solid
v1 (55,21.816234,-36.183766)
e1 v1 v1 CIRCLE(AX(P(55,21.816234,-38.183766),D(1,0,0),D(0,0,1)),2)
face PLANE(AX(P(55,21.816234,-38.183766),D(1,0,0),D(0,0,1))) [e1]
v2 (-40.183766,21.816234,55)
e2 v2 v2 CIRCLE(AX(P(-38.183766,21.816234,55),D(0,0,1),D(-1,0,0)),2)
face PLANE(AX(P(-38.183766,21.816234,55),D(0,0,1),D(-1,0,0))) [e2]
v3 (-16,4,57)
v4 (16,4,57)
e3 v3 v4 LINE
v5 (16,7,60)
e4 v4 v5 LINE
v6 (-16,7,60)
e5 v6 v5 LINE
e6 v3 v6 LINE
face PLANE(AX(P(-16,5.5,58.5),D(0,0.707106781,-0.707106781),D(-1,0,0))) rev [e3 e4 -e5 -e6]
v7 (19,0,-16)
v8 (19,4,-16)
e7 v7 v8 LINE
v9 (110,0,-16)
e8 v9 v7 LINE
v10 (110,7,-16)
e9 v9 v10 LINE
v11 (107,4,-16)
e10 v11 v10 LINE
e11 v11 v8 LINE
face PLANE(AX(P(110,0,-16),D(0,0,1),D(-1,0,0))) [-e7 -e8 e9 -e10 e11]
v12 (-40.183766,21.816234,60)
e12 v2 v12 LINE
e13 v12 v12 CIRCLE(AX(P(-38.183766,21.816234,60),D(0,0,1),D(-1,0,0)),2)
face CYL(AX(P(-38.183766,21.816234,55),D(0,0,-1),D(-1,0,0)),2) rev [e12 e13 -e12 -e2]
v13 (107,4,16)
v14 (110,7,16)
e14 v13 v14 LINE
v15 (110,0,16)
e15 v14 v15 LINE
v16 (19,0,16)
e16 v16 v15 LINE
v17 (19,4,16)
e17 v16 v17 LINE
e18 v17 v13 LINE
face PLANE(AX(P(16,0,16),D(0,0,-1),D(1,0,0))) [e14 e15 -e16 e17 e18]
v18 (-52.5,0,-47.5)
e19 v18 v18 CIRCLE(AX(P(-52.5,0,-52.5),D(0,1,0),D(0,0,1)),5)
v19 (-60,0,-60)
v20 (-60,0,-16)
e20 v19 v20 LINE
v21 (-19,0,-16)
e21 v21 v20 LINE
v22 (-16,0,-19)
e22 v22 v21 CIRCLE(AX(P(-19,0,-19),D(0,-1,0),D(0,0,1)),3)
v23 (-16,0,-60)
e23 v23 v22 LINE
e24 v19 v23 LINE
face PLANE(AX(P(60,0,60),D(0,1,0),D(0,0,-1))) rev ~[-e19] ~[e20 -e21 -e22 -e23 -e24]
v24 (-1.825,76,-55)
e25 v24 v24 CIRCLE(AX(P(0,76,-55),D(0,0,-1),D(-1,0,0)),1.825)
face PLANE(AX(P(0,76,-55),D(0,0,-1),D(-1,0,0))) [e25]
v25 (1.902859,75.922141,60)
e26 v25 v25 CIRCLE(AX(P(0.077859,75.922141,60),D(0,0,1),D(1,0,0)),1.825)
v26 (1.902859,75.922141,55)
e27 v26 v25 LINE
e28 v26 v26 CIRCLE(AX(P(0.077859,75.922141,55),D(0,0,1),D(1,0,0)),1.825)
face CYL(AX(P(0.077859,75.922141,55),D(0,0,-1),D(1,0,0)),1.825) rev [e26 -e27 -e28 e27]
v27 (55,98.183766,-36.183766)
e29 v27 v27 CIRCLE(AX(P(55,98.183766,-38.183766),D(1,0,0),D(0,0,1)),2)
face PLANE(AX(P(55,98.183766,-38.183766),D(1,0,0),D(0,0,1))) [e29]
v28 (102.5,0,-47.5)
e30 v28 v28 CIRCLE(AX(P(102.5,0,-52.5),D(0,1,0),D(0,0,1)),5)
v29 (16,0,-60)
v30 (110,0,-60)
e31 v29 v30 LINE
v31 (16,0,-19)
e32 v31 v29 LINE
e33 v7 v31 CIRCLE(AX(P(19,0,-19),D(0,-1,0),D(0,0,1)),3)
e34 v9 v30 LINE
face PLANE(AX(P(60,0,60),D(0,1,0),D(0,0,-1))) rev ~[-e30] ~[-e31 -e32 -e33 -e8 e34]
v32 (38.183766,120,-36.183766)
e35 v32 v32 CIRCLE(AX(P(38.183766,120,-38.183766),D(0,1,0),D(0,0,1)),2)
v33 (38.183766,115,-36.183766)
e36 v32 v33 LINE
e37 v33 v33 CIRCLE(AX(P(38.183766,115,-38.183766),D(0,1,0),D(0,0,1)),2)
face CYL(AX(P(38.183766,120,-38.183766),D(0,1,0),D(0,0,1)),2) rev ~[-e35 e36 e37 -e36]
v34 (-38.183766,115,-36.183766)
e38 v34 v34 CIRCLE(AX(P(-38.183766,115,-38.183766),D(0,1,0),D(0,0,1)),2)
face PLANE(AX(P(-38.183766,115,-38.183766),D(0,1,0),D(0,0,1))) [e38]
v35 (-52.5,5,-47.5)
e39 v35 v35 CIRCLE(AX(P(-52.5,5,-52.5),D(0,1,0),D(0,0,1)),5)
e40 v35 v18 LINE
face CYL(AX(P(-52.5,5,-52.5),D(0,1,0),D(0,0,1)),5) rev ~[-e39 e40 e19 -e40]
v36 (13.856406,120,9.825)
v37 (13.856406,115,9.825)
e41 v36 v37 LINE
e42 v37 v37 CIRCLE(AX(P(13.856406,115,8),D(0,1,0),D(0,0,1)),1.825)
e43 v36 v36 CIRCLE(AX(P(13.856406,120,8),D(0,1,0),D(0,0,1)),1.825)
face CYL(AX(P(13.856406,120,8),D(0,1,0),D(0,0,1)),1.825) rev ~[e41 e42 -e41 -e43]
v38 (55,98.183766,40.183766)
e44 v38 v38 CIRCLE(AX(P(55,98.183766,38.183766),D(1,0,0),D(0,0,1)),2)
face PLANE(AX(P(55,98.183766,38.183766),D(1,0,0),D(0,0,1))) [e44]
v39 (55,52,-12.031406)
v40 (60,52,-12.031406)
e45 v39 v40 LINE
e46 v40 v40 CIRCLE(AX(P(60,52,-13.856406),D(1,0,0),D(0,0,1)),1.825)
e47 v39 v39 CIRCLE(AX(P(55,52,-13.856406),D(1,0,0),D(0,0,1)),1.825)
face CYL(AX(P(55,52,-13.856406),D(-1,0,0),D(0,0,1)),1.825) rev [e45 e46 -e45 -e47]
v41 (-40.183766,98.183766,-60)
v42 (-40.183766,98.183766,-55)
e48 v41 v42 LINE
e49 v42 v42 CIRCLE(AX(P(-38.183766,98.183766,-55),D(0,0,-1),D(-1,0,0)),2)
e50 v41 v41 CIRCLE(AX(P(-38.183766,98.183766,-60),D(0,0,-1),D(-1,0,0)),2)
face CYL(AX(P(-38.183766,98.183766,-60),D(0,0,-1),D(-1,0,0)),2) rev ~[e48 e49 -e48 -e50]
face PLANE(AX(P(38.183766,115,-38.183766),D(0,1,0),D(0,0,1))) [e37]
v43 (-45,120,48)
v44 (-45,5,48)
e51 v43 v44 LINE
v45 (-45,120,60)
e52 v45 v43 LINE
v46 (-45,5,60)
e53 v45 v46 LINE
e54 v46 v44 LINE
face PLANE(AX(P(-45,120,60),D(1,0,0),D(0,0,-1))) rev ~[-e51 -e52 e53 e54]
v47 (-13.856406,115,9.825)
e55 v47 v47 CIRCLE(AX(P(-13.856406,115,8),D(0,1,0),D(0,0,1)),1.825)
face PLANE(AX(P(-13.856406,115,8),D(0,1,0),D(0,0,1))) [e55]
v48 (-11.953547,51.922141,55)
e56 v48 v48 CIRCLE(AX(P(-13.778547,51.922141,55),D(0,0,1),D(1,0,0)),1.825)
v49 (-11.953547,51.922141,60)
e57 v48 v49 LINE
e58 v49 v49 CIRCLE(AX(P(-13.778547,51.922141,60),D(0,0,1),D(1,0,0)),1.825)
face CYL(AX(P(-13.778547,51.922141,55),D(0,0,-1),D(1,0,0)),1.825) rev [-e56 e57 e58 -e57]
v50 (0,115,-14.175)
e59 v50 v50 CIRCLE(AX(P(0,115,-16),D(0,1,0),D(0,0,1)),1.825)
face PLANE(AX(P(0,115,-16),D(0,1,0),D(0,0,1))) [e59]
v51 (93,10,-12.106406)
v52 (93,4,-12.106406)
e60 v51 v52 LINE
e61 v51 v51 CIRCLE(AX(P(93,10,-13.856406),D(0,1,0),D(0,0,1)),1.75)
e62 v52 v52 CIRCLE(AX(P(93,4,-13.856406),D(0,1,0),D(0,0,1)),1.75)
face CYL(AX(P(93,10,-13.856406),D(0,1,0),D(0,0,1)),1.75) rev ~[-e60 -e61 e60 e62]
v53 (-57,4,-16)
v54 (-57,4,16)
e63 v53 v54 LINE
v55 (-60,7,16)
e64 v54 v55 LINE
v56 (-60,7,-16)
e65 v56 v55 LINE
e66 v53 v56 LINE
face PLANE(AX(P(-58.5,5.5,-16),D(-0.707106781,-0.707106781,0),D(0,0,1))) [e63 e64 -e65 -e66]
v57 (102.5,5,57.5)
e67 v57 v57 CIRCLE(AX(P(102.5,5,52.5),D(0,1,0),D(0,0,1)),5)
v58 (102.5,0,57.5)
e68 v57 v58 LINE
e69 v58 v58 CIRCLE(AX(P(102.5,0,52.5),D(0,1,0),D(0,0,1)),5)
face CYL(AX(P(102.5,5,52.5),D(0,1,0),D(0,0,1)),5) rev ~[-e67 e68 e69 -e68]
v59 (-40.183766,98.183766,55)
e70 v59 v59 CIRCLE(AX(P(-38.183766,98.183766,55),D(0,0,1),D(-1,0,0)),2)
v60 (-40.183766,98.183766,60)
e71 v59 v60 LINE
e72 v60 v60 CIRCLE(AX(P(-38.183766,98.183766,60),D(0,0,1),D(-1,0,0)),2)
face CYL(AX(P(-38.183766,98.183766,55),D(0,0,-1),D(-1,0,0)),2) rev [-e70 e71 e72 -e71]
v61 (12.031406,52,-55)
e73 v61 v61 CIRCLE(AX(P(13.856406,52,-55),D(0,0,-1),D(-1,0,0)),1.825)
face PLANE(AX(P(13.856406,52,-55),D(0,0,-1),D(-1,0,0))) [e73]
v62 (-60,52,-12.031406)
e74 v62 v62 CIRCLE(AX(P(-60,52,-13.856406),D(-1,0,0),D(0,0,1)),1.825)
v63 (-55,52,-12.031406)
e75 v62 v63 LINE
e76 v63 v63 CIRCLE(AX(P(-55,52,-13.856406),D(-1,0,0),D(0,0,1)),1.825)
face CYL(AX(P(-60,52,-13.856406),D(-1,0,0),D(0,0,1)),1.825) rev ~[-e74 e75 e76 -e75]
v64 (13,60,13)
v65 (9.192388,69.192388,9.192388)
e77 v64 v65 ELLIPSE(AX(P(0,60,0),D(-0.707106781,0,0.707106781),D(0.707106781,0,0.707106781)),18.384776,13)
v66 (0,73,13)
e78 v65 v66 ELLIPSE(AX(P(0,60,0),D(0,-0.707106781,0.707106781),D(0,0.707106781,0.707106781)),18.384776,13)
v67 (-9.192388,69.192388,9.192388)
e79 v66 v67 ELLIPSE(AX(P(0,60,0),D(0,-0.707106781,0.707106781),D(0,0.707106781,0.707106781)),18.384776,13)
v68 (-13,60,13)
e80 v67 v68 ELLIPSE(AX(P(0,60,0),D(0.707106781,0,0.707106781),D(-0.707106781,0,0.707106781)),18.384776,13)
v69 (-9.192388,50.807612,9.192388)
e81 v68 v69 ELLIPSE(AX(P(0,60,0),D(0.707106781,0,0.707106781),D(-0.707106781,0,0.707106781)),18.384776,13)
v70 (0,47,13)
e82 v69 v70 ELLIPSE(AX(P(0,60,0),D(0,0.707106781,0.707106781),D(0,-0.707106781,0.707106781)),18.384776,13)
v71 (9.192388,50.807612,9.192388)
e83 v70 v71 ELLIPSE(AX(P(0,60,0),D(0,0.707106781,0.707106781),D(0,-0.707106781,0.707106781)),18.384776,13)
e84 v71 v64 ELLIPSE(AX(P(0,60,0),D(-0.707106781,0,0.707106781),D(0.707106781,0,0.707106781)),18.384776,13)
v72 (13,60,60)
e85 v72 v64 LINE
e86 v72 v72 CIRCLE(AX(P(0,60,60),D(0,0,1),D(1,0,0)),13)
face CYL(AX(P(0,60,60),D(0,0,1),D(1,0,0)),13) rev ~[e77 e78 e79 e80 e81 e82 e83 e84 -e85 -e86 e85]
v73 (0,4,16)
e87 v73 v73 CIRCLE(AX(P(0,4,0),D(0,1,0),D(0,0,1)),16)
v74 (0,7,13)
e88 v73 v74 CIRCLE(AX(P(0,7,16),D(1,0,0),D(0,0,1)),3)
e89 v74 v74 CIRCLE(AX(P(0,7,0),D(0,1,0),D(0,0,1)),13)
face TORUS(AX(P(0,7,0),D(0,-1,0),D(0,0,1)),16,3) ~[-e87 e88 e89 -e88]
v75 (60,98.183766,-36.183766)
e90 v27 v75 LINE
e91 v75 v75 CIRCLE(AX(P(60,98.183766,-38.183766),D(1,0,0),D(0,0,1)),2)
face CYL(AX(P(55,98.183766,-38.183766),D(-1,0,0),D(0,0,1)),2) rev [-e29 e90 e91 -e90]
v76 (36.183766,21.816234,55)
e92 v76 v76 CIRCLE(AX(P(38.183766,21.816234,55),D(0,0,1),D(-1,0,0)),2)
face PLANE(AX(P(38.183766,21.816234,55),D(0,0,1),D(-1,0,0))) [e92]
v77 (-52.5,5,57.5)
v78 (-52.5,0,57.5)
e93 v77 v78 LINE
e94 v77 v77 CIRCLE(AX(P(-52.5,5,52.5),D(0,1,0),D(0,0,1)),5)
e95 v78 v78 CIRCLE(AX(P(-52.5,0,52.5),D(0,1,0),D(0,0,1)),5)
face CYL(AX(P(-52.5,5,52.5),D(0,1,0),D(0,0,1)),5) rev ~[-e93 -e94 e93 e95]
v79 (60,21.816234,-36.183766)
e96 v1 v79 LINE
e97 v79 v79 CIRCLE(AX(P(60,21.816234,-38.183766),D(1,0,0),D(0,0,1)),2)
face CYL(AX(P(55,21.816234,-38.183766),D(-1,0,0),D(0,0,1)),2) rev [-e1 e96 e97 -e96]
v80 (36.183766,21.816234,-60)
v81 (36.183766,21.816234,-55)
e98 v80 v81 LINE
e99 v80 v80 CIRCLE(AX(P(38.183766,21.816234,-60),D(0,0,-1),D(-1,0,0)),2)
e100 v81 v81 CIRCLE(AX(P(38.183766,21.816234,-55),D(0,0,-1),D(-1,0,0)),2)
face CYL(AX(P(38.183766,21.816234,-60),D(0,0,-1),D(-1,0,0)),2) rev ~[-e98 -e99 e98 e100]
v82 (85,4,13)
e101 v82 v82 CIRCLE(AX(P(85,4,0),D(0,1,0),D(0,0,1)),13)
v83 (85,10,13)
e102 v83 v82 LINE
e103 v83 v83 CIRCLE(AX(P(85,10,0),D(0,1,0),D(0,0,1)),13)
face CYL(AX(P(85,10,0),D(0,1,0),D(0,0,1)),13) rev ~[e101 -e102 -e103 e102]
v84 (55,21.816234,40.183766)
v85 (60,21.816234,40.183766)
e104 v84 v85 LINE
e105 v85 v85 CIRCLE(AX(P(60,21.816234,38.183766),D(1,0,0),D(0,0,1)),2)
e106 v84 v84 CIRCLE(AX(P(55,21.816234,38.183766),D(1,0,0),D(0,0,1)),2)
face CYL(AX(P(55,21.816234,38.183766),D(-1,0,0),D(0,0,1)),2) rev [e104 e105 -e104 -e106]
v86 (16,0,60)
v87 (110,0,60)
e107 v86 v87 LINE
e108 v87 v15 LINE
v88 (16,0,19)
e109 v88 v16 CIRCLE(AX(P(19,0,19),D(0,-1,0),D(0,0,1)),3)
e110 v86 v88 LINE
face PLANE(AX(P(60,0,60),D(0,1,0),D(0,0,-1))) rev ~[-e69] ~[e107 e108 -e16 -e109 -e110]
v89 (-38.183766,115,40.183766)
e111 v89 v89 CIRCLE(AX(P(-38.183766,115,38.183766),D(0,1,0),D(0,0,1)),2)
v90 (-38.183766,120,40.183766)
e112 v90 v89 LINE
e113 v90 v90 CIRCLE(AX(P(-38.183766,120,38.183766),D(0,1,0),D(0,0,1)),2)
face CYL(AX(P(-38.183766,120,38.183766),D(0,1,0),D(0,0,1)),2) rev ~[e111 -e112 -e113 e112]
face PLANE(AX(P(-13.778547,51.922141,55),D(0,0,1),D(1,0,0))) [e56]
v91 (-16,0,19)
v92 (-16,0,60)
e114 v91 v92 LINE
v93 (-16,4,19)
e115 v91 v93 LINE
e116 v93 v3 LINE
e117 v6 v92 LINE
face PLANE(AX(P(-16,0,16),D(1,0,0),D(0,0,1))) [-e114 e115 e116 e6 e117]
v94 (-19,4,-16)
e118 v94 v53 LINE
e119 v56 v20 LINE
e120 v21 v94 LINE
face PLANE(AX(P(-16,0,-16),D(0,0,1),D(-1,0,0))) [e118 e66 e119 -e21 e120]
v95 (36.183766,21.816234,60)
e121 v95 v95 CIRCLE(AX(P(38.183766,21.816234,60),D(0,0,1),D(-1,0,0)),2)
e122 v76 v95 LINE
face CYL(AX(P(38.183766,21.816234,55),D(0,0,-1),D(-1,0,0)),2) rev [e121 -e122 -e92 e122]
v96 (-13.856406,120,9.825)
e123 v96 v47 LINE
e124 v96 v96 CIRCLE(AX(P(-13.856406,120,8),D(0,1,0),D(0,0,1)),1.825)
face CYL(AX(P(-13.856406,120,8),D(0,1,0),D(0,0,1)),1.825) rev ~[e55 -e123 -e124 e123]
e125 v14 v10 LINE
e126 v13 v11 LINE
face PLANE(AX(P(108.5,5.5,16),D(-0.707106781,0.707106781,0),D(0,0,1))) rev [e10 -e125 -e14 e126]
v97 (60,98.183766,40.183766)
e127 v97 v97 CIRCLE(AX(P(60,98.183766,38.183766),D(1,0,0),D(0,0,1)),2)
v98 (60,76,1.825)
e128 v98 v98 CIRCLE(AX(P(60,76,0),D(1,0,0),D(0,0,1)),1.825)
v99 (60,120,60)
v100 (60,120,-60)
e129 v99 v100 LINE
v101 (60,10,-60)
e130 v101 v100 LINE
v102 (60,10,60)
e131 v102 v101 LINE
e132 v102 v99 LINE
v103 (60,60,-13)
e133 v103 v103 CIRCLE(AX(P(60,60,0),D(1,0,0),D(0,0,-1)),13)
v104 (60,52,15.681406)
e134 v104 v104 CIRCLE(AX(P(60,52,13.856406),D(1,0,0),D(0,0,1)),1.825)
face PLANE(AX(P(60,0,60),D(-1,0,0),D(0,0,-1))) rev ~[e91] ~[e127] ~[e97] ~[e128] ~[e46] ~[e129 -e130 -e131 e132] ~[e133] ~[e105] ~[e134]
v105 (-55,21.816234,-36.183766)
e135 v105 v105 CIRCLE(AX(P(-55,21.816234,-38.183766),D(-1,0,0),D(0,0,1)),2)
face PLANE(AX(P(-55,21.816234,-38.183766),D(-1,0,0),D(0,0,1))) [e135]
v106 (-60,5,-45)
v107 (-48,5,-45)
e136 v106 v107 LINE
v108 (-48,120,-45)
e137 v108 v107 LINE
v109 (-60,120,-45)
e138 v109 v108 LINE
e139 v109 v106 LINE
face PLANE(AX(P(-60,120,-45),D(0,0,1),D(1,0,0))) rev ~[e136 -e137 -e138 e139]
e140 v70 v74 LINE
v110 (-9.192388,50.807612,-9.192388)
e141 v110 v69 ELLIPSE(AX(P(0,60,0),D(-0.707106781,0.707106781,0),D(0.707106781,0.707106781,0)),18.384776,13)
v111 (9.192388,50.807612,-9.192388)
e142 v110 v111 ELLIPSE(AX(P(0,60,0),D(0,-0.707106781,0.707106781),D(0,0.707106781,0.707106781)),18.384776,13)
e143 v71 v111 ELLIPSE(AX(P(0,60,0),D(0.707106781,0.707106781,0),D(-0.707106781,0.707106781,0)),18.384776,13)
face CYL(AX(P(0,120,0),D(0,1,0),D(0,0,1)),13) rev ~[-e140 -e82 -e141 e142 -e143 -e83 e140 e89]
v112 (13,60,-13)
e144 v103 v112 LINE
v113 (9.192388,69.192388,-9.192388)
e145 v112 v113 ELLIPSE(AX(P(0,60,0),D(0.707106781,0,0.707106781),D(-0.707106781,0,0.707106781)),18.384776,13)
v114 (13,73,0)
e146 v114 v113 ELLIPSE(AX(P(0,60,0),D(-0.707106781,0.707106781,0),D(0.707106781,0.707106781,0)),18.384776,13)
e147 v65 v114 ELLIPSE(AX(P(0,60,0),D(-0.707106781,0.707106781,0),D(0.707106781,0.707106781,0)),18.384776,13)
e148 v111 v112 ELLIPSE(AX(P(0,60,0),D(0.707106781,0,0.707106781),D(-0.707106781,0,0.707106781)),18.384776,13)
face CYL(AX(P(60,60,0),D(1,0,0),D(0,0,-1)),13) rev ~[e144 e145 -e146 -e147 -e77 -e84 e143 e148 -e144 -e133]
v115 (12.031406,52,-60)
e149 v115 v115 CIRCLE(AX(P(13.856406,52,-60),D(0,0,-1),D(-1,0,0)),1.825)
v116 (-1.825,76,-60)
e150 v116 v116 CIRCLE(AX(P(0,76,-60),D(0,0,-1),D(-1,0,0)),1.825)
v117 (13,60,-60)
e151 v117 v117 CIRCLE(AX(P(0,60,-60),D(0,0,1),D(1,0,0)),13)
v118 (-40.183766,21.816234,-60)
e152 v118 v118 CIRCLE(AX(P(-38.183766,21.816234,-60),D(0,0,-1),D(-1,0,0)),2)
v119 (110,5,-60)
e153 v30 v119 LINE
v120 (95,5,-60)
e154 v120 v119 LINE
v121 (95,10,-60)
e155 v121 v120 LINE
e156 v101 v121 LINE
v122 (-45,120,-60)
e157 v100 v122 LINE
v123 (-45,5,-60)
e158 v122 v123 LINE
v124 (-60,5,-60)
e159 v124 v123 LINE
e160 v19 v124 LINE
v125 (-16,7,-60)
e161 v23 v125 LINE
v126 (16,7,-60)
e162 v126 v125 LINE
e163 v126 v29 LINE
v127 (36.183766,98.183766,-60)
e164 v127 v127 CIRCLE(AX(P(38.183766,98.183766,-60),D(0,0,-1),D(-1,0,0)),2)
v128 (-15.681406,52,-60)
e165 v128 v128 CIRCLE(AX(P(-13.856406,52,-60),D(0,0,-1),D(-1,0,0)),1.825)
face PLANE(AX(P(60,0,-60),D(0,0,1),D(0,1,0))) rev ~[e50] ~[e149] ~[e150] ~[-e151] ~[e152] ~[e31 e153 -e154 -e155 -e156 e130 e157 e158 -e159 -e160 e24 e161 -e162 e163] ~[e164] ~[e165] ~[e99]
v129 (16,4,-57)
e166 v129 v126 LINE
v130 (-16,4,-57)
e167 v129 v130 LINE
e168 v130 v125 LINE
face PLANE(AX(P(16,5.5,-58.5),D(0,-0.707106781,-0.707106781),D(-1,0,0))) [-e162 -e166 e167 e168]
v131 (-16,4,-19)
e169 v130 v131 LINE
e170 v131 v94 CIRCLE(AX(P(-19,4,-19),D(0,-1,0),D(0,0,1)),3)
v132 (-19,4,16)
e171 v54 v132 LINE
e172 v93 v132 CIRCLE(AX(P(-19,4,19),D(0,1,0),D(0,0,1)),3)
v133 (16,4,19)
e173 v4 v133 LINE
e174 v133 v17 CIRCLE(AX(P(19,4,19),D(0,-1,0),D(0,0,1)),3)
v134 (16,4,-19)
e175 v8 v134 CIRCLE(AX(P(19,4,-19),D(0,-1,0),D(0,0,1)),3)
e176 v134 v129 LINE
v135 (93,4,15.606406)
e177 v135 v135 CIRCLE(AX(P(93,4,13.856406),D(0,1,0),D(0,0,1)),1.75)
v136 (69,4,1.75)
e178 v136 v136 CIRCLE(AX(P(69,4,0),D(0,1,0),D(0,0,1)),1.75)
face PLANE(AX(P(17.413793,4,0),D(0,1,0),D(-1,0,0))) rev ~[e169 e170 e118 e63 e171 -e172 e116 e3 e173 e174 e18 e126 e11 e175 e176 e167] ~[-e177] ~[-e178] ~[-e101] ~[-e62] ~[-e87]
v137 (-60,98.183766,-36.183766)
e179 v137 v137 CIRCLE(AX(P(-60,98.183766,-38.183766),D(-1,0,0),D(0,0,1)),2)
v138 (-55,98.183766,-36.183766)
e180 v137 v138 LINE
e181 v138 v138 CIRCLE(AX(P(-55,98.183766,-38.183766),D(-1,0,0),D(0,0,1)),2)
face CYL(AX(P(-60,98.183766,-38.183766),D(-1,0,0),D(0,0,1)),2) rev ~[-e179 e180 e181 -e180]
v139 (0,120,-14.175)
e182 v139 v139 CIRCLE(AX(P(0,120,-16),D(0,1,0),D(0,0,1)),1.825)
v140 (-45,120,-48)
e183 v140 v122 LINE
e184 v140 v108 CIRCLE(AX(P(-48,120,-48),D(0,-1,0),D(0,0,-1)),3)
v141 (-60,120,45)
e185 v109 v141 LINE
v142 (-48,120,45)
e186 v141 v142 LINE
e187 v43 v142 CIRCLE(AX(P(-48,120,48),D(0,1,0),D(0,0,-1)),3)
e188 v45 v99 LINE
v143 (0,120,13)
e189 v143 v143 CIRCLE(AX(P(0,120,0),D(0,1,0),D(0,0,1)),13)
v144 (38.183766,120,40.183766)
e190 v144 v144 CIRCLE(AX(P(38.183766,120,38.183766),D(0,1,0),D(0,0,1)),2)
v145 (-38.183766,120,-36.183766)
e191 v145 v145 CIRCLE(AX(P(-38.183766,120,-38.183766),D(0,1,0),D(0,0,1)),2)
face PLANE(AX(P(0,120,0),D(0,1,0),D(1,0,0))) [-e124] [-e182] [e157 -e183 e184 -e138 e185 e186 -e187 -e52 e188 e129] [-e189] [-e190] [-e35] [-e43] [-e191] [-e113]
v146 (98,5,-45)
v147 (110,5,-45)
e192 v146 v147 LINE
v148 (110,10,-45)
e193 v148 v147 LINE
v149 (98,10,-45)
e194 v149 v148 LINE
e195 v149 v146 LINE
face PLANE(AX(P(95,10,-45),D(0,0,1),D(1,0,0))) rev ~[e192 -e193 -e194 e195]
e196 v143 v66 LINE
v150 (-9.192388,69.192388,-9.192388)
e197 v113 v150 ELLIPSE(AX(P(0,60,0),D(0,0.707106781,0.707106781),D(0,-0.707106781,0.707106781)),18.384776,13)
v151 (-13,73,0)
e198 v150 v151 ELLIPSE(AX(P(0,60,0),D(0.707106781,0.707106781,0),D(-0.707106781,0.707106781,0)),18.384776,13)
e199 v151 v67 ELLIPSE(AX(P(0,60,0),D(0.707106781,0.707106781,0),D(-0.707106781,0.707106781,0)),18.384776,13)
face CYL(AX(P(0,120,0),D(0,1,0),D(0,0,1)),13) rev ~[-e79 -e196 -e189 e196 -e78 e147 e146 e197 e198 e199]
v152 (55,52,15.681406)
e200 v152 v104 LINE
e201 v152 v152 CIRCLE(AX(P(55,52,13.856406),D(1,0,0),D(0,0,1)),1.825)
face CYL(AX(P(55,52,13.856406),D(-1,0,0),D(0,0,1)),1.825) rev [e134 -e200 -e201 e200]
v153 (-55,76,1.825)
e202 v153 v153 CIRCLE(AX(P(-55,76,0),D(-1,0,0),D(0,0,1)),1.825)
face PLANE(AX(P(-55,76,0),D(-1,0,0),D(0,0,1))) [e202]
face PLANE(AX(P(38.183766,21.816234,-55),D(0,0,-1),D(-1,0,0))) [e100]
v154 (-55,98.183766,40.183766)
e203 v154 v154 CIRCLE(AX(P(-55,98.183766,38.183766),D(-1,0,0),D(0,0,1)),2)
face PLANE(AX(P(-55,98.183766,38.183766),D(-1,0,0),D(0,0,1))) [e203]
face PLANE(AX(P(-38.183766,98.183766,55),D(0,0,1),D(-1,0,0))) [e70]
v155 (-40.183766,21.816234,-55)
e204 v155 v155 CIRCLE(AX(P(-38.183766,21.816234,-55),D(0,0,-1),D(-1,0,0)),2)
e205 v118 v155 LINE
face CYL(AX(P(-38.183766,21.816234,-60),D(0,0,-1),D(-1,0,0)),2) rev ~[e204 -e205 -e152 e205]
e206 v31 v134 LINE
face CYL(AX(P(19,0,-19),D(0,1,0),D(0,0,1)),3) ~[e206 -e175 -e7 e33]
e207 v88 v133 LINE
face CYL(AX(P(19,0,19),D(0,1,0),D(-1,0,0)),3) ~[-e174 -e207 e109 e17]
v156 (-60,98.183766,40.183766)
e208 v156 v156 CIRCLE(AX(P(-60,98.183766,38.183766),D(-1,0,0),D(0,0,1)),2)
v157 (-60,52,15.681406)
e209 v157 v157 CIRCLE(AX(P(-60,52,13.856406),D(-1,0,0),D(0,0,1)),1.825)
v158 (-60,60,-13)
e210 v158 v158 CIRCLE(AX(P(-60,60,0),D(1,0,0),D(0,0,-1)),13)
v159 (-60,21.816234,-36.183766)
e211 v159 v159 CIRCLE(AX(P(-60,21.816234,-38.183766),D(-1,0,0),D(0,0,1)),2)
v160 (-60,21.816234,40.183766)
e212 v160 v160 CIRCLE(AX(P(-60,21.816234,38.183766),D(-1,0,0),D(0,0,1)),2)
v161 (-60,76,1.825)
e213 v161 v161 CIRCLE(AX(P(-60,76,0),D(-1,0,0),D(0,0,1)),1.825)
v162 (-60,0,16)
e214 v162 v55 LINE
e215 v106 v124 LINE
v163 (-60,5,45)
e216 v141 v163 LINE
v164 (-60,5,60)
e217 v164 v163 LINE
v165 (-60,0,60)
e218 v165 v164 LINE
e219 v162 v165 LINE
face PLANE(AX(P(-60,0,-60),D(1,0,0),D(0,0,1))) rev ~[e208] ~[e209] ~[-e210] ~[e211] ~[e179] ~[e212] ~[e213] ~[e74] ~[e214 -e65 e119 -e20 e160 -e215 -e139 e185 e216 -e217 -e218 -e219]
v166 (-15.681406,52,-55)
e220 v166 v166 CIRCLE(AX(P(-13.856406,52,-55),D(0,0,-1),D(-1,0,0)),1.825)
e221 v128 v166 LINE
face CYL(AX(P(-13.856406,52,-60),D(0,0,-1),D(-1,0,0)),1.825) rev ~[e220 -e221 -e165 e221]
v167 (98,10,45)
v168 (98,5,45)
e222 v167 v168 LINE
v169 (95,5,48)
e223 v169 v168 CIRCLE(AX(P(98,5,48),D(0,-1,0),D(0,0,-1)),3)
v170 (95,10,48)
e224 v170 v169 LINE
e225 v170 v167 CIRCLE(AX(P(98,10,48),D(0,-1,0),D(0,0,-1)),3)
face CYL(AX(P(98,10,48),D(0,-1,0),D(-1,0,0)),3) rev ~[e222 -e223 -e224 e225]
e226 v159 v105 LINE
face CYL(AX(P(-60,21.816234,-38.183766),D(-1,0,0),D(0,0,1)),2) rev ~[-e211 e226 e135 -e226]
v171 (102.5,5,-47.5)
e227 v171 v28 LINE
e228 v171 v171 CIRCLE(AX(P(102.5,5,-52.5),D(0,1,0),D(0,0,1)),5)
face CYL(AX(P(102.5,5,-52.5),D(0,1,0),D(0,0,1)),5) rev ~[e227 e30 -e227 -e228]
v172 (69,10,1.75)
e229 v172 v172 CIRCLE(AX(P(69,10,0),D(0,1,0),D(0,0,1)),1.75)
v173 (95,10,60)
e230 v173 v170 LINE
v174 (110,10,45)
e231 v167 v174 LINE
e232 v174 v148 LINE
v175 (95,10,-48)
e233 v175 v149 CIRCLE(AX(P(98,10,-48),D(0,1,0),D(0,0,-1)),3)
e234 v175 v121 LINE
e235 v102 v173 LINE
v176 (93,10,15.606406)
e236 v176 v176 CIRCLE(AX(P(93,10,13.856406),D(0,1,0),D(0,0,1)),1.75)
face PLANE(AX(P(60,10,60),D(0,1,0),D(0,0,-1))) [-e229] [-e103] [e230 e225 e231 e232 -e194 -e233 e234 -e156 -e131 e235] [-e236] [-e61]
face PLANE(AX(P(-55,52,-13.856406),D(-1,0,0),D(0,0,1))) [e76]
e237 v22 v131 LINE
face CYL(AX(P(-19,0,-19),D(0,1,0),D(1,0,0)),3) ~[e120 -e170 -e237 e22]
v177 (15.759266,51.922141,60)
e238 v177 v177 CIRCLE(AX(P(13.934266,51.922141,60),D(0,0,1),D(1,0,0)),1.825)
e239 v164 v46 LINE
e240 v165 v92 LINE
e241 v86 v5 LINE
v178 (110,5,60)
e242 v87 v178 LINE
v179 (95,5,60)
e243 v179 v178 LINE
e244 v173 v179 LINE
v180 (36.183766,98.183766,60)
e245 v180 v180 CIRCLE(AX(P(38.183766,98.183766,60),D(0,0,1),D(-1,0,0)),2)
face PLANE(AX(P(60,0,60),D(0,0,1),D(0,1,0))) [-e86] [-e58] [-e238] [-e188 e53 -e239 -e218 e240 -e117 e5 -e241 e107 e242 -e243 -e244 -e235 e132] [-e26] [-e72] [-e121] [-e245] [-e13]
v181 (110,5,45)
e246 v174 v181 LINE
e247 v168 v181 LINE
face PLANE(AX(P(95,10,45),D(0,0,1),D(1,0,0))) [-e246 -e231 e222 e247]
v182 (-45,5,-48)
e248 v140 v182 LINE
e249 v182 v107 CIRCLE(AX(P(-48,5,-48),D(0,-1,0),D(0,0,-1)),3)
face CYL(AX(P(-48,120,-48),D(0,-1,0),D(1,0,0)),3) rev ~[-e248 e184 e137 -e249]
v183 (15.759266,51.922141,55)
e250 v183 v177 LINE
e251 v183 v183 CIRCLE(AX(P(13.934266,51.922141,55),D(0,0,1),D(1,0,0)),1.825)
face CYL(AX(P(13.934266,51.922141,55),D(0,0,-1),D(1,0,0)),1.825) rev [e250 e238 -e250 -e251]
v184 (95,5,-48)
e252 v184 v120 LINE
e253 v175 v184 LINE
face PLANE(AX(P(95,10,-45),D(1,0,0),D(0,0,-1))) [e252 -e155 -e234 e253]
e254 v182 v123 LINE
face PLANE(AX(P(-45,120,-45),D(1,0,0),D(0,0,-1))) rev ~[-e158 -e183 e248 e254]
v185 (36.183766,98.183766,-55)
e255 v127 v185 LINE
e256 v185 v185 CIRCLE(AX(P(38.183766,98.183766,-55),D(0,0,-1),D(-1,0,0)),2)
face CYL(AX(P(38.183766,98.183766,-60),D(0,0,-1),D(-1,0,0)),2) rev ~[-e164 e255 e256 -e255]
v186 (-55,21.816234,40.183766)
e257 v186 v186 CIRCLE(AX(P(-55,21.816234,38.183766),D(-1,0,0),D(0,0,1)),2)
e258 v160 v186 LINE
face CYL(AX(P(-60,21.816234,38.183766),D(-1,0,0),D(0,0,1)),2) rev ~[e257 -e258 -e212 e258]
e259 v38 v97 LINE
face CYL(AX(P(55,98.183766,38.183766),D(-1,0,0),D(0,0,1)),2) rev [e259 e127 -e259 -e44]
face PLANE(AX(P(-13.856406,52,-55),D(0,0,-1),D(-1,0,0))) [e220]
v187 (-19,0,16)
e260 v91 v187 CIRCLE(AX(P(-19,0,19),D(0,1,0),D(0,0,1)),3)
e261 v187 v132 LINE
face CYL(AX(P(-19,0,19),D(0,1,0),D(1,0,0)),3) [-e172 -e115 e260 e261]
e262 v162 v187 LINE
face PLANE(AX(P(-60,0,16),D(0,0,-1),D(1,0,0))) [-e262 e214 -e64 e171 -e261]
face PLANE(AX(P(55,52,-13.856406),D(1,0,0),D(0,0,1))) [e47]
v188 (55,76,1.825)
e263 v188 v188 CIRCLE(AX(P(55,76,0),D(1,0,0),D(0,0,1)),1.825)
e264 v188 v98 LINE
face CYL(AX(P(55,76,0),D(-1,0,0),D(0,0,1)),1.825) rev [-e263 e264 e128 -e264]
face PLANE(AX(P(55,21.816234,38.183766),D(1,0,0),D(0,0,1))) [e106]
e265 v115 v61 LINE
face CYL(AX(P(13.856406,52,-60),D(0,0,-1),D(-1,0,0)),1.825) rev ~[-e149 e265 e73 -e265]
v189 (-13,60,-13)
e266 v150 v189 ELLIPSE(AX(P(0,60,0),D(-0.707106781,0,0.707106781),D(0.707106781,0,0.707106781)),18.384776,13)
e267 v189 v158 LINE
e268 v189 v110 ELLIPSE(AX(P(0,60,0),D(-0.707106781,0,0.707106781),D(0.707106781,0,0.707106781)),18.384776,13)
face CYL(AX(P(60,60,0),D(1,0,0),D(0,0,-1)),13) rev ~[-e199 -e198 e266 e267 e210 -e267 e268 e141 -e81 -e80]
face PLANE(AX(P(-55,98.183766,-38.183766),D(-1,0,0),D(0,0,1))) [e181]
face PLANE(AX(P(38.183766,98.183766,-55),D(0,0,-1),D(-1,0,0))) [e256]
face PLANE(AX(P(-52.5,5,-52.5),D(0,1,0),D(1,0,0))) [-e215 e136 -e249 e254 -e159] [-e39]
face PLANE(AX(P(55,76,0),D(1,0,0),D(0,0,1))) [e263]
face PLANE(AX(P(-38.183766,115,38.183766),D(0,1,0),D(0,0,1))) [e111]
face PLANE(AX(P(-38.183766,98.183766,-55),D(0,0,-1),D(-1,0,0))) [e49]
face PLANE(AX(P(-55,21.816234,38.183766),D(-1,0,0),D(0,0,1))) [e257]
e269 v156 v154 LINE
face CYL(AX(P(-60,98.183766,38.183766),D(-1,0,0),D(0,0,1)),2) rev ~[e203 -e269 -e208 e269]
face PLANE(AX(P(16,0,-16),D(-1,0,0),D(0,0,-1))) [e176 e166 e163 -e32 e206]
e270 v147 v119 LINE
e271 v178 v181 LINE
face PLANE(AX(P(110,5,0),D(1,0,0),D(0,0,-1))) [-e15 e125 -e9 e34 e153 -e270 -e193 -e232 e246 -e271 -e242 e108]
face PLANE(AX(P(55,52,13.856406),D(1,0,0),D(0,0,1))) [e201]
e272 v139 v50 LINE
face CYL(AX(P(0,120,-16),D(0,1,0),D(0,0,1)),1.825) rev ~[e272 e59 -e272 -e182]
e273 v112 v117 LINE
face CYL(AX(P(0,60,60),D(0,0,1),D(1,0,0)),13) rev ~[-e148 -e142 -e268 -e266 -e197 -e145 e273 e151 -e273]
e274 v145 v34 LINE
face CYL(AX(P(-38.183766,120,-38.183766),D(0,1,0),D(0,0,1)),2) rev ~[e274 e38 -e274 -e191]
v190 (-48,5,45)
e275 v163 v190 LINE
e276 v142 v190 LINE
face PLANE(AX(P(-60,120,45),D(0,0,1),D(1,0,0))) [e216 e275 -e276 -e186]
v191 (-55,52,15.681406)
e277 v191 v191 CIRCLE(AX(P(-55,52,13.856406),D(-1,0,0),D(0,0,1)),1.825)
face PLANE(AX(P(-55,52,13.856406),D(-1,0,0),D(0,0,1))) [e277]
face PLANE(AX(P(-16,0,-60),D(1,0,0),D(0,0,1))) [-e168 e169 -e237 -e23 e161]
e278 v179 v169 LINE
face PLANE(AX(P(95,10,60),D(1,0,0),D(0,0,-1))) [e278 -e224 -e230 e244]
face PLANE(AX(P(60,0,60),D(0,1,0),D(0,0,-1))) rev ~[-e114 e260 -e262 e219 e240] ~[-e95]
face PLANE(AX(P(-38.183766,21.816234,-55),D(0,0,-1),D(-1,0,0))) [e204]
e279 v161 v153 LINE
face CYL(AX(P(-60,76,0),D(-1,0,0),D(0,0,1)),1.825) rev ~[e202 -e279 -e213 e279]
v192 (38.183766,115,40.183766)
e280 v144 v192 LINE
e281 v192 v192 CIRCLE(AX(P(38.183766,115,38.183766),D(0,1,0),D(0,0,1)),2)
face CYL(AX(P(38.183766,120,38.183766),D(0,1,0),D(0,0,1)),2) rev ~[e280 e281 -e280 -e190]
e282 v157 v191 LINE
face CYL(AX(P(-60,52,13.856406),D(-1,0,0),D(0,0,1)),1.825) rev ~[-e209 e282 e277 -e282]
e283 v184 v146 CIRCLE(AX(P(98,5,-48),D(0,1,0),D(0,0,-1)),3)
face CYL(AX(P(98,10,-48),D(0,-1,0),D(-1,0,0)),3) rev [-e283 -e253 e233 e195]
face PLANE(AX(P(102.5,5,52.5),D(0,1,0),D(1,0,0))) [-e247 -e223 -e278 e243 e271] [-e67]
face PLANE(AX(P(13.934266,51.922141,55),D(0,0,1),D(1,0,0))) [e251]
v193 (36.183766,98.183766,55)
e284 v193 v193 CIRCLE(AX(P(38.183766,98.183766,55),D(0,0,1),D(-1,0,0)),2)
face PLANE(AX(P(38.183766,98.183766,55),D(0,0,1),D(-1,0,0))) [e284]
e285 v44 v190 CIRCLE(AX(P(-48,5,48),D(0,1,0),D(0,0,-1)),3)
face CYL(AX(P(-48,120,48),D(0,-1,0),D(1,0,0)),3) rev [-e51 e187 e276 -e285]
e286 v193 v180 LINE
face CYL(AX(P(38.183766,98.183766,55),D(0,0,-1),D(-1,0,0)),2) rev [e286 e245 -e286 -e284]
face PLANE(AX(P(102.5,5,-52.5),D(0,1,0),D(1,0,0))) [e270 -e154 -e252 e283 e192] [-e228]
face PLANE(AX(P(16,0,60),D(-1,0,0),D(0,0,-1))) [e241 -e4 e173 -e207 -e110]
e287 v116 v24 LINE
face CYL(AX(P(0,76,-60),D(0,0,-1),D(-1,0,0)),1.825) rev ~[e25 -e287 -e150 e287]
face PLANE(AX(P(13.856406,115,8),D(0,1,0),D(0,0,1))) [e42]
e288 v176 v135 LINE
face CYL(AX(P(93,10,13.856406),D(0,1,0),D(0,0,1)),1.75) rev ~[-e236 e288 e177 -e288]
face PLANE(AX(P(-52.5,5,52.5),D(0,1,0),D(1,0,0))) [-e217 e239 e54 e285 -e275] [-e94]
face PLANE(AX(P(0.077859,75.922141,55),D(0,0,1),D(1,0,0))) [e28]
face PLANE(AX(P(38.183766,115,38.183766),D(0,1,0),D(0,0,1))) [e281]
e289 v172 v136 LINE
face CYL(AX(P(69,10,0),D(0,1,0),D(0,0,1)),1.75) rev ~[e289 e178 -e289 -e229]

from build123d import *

# Parameters (mm, degrees)
BOSS_EXTRUDE1_DEPTH = 120
SKETCH3_W           = 120
SKETCH3_H           = 10
BOSS_EXTRUDE2_DEPTH = 50
SKETCH11_R          = 13
CUT_EXTRUDE3_DEPTH  = 120
SKETCH7_R           = 1.825
SKETCH7_R_2         = 2
CUT_EXTRUDE6_DEPTH  = 5
CUT_EXTRUDE12_DEPTH = 4
SKETCH10_R          = 13
CUT_EXTRUDE13_DEPTH = 116
SKETCH8_R           = 1.825
SKETCH8_R_2         = 2
CUT_EXTRUDE14_DEPTH = 5
SKETCH13_R          = 13
CUT_EXTRUDE17_DEPTH = 120
SKETCH17_R          = 13
CUT_EXTRUDE18_DEPTH = 6
SKETCH18_R          = 1.75
CUT_EXTRUDE19_DEPTH = 6
FILLET1_R           = 3
FILLET2_R           = 3
CHAMFER1_SIZE       = 3
SKETCH19_W          = 15
SKETCH19_H          = 15
CUT_EXTRUDE20_DEPTH = 115
SKETCH20_R          = 5
CUT_EXTRUDE21_DEPTH = 5
FILLET3_R           = 3
SKETCH21_W          = 15
SKETCH21_H          = 15
CUT_EXTRUDE22_DEPTH = 5
SKETCH22_R          = 5
CUT_EXTRUDE23_DEPTH = 5
FILLET4_R           = 3
CUT_EXTRUDE24_START = -5
SKETCH23_R          = 1.825
SKETCH23_R_2        = 2
CUT_EXTRUDE24_DEPTH = 5
CUT_EXTRUDE25_START = -5
SKETCH24_R          = 1.825
SKETCH24_R_2        = 2
CUT_EXTRUDE25_DEPTH = 5
SKETCH26_R          = 1.825
SKETCH26_R_2        = 2
CUT_EXTRUDE26_DEPTH = 5


with BuildPart() as part:
    # Sketch1 → Boss-Extrude1 (new body)
    with BuildSketch(Plane(origin=(0, 0, 0), x_dir=(1, 0, 0), z_dir=(0, 1, 0))):
        Polygon((-60, 60), (-60, -60), (60, -60), (60, 60), (0, 60), align=None)
    extrude(amount=BOSS_EXTRUDE1_DEPTH)

    # Sketch3 → Boss-Extrude2 (add)
    with BuildSketch(Plane(origin=(60, 0, 0), x_dir=(0, 0, -1), z_dir=(1, 0, 0))):
        with Locations((0, 5)):
            Rectangle(SKETCH3_W, SKETCH3_H)
    extrude(amount=BOSS_EXTRUDE2_DEPTH)

    # Sketch11 → Cut-Extrude3 (cut)
    with BuildSketch(Plane.XY.offset(60)):
        with Locations((0, 60)):
            Circle(SKETCH11_R)
    extrude(amount=-CUT_EXTRUDE3_DEPTH, mode=Mode.SUBTRACT)

    # Sketch7 → Cut-Extrude6 (cut)
    with BuildSketch(Plane.ZY.offset(60)):
        with Locations((0, 76)):
            Circle(SKETCH7_R)
        with Locations((13.856406461, 52)):
            Circle(SKETCH7_R)
        with Locations((-13.856406461, 52)):
            Circle(SKETCH7_R)
        with Locations((-38.183766184, 98.183766184)):
            Circle(SKETCH7_R_2)
        with Locations((38.183766184, 98.183766184)):
            Circle(SKETCH7_R_2)
        with Locations((38.183766184, 21.816233816)):
            Circle(SKETCH7_R_2)
        with Locations((-38.183766184, 21.816233816)):
            Circle(SKETCH7_R_2)
    extrude(amount=-CUT_EXTRUDE6_DEPTH, mode=Mode.SUBTRACT)

    # Sketch4 → Cut-Extrude12 (cut)
    with BuildSketch(Plane.XZ):
        Polygon((16, 16), (110, 16), (110, -16), (16, -16), (16, -60), (-16, -60), (-16, -16), (-60, -16), (-60, 16), (-16, 16), (-16, 60), (16, 60), align=None)
    extrude(amount=-CUT_EXTRUDE12_DEPTH, mode=Mode.SUBTRACT)

    # Sketch10 → Cut-Extrude13 (cut)
    with BuildSketch(Plane(origin=(0, 120, 0), x_dir=(1, 0, 0), z_dir=(0, 1, 0))):
        with Locations(Location((0, 0, 0), (0, 0, 270))):
            Circle(SKETCH10_R)
    extrude(amount=-CUT_EXTRUDE13_DEPTH, mode=Mode.SUBTRACT)

    # Sketch8 → Cut-Extrude14 (cut)
    with BuildSketch(Plane(origin=(0, 0, -60), x_dir=(-1, 0, 0), z_dir=(0, 0, -1))):
        with Locations((0, 76)):
            Circle(SKETCH8_R)
        with Locations((13.856406461, 52)):
            Circle(SKETCH8_R)
        with Locations((-13.856406461, 52)):
            Circle(SKETCH8_R)
        with Locations((-38.183766184, 98.183766184)):
            Circle(SKETCH8_R_2)
        with Locations((38.183766184, 98.183766184)):
            Circle(SKETCH8_R_2)
        with Locations((38.183766184, 21.816233816)):
            Circle(SKETCH8_R_2)
        with Locations((-38.183766184, 21.816233816)):
            Circle(SKETCH8_R_2)
    extrude(amount=-CUT_EXTRUDE14_DEPTH, mode=Mode.SUBTRACT)

    # Sketch13 → Cut-Extrude17 (cut)
    with BuildSketch(Plane(origin=(60, 0, 0), x_dir=(0, 0, -1), z_dir=(1, 0, 0))):
        with Locations((0, 60)):
            Circle(SKETCH13_R)
    extrude(amount=-CUT_EXTRUDE17_DEPTH, mode=Mode.SUBTRACT)

    # Sketch17 → Cut-Extrude18 (cut)
    with BuildSketch(Plane(origin=(0, 10, 0), x_dir=(1, 0, 0), z_dir=(0, 1, 0))):
        with Locations(Location((85, 0, 0), (0, 0, 270))):
            Circle(SKETCH17_R)
    extrude(amount=-CUT_EXTRUDE18_DEPTH, mode=Mode.SUBTRACT)

    # Sketch18 → Cut-Extrude19 (cut)
    with BuildSketch(Plane(origin=(0, 10, 0), x_dir=(1, 0, 0), z_dir=(0, 1, 0))):
        with Locations(Location((93, 13.856406461, 0), (0, 0, 270))):
            Circle(SKETCH18_R)
        with Locations(Location((69, 0, 0), (0, 0, 270))):
            Circle(SKETCH18_R)
        with Locations(Location((93, -13.856406461, 0), (0, 0, 270))):
            Circle(SKETCH18_R)
    extrude(amount=-CUT_EXTRUDE19_DEPTH, mode=Mode.SUBTRACT)

    # Fillet1
    fillet1_edges = [part.edges().sort_by_distance(p)[0] for p in [
        (16, 2, -16),
        (-16, 2, -16),
        (-16, 2, 16),
        (16, 2, 16),
    ]]
    fillet(fillet1_edges, radius=FILLET1_R)

    # Fillet2
    fillet2_edges = [part.edges().sort_by_distance(p)[0] for p in [
        (0, 4, -13),
    ]]
    fillet(fillet2_edges, radius=FILLET2_R)

    # Chamfer1
    chamfer1_edges = [part.edges().sort_by_distance(p)[0] for p in [
        (0, 4, 60),
        (110, 4, 0),
        (0, 4, -60),
        (-60, 4, 0),
    ]]
    chamfer(chamfer1_edges, length=CHAMFER1_SIZE)

    # Sketch19 → Cut-Extrude20 (cut)
    with BuildSketch(Plane(origin=(0, 120, 0), x_dir=(1, 0, 0), z_dir=(0, 1, 0))):
        with Locations((-52.5, 52.5)):
            Rectangle(SKETCH19_W, SKETCH19_H)
        with Locations((-52.5, -52.5)):
            Rectangle(SKETCH19_W, SKETCH19_H)
    extrude(amount=-CUT_EXTRUDE20_DEPTH, mode=Mode.SUBTRACT)

    # Sketch20 → Cut-Extrude21 (cut)
    with BuildSketch(Plane(origin=(0, 5, 0), x_dir=(1, 0, 0), z_dir=(0, 1, 0))):
        with Locations(Location((-52.5, 52.5, 0), (0, 0, 270))):
            Circle(SKETCH20_R)
        with Locations(Location((-52.5, -52.5, 0), (0, 0, 270))):
            Circle(SKETCH20_R)
    extrude(amount=-CUT_EXTRUDE21_DEPTH, mode=Mode.SUBTRACT)

    # Fillet3
    fillet3_edges = [part.edges().sort_by_distance(p)[0] for p in [
        (-45, 62.5, -45),
        (-45, 62.5, 45),
    ]]
    fillet(fillet3_edges, radius=FILLET3_R)

    # Sketch21 → Cut-Extrude22 (cut)
    with BuildSketch(Plane(origin=(0, 10, 0), x_dir=(1, 0, 0), z_dir=(0, 1, 0))):
        with Locations((102.5, -52.5)):
            Rectangle(SKETCH21_W, SKETCH21_H)
        with Locations((102.5, 52.5)):
            Rectangle(SKETCH21_W, SKETCH21_H)
    extrude(amount=-CUT_EXTRUDE22_DEPTH, mode=Mode.SUBTRACT)

    # Sketch22 → Cut-Extrude23 (cut)
    with BuildSketch(Plane(origin=(0, 5, 0), x_dir=(1, 0, 0), z_dir=(0, 1, 0))):
        with Locations(Location((102.5, 52.5, 0), (0, 0, 270))):
            Circle(SKETCH22_R)
        with Locations(Location((102.5, -52.5, 0), (0, 0, 270))):
            Circle(SKETCH22_R)
    extrude(amount=-CUT_EXTRUDE23_DEPTH, mode=Mode.SUBTRACT)

    # Fillet4
    fillet4_edges = [part.edges().sort_by_distance(p)[0] for p in [
        (95, 7.5, 45),
        (95, 7.5, -45),
    ]]
    fillet(fillet4_edges, radius=FILLET4_R)

    # Sketch23 → Cut-Extrude24 (cut)
    with BuildSketch(Plane.XY.offset(60).offset(CUT_EXTRUDE24_START)):
        with Locations((0.077859326, 75.922140674)):
            Circle(SKETCH23_R)
        with Locations((13.934265787, 51.922140674)):
            Circle(SKETCH23_R)
        with Locations((-13.778547134, 51.922140674)):
            Circle(SKETCH23_R)
        with Locations(Location((-38.183766184, 98.183766184, 0), (0, 0, 180))):
            Circle(SKETCH23_R_2)
        with Locations(Location((38.183766184, 98.183766184, 0), (0, 0, 180))):
            Circle(SKETCH23_R_2)
        with Locations(Location((38.183766184, 21.816233816, 0), (0, 0, 180))):
            Circle(SKETCH23_R_2)
        with Locations(Location((-38.183766184, 21.816233816, 0), (0, 0, 180))):
            Circle(SKETCH23_R_2)
    extrude(amount=CUT_EXTRUDE24_DEPTH, mode=Mode.SUBTRACT)

    # Sketch24 → Cut-Extrude25 (cut)
    with BuildSketch(Plane(origin=(60, 0, 0), x_dir=(0, 0, -1), z_dir=(1, 0, 0)).offset(CUT_EXTRUDE25_START)):
        with Locations(Location((0, 76, 0), (0, 0, 180))):
            Circle(SKETCH24_R)
        with Locations(Location((13.856406461, 52, 0), (0, 0, 180))):
            Circle(SKETCH24_R)
        with Locations(Location((-13.856406461, 52, 0), (0, 0, 180))):
            Circle(SKETCH24_R)
        with Locations(Location((-38.183766184, 98.183766184, 0), (0, 0, 180))):
            Circle(SKETCH24_R_2)
        with Locations(Location((38.183766184, 98.183766184, 0), (0, 0, 180))):
            Circle(SKETCH24_R_2)
        with Locations(Location((38.183766184, 21.816233816, 0), (0, 0, 180))):
            Circle(SKETCH24_R_2)
        with Locations(Location((-38.183766184, 21.816233816, 0), (0, 0, 180))):
            Circle(SKETCH24_R_2)
    extrude(amount=CUT_EXTRUDE25_DEPTH, mode=Mode.SUBTRACT)

    # Sketch26 → Cut-Extrude26 (cut)
    with BuildSketch(Plane(origin=(0, 120, 0), x_dir=(1, 0, 0), z_dir=(0, 1, 0))):
        with Locations(Location((0, 16, 0), (0, 0, 270))):
            Circle(SKETCH26_R)
        with Locations(Location((13.856406461, -8, 0), (0, 0, 270))):
            Circle(SKETCH26_R)
        with Locations(Location((-13.856406461, -8, 0), (0, 0, 270))):
            Circle(SKETCH26_R)
        with Locations(Location((-38.183766184, 38.183766184, 0), (0, 0, 270))):
            Circle(SKETCH26_R_2)
        with Locations(Location((38.183766184, 38.183766184, 0), (0, 0, 270))):
            Circle(SKETCH26_R_2)
        with Locations(Location((38.183766184, -38.183766184, 0), (0, 0, 270))):
            Circle(SKETCH26_R_2)
        with Locations(Location((-38.183766184, -38.183766184, 0), (0, 0, 270))):
            Circle(SKETCH26_R_2)
    extrude(amount=-CUT_EXTRUDE26_DEPTH, mode=Mode.SUBTRACT)


solid = part.part
